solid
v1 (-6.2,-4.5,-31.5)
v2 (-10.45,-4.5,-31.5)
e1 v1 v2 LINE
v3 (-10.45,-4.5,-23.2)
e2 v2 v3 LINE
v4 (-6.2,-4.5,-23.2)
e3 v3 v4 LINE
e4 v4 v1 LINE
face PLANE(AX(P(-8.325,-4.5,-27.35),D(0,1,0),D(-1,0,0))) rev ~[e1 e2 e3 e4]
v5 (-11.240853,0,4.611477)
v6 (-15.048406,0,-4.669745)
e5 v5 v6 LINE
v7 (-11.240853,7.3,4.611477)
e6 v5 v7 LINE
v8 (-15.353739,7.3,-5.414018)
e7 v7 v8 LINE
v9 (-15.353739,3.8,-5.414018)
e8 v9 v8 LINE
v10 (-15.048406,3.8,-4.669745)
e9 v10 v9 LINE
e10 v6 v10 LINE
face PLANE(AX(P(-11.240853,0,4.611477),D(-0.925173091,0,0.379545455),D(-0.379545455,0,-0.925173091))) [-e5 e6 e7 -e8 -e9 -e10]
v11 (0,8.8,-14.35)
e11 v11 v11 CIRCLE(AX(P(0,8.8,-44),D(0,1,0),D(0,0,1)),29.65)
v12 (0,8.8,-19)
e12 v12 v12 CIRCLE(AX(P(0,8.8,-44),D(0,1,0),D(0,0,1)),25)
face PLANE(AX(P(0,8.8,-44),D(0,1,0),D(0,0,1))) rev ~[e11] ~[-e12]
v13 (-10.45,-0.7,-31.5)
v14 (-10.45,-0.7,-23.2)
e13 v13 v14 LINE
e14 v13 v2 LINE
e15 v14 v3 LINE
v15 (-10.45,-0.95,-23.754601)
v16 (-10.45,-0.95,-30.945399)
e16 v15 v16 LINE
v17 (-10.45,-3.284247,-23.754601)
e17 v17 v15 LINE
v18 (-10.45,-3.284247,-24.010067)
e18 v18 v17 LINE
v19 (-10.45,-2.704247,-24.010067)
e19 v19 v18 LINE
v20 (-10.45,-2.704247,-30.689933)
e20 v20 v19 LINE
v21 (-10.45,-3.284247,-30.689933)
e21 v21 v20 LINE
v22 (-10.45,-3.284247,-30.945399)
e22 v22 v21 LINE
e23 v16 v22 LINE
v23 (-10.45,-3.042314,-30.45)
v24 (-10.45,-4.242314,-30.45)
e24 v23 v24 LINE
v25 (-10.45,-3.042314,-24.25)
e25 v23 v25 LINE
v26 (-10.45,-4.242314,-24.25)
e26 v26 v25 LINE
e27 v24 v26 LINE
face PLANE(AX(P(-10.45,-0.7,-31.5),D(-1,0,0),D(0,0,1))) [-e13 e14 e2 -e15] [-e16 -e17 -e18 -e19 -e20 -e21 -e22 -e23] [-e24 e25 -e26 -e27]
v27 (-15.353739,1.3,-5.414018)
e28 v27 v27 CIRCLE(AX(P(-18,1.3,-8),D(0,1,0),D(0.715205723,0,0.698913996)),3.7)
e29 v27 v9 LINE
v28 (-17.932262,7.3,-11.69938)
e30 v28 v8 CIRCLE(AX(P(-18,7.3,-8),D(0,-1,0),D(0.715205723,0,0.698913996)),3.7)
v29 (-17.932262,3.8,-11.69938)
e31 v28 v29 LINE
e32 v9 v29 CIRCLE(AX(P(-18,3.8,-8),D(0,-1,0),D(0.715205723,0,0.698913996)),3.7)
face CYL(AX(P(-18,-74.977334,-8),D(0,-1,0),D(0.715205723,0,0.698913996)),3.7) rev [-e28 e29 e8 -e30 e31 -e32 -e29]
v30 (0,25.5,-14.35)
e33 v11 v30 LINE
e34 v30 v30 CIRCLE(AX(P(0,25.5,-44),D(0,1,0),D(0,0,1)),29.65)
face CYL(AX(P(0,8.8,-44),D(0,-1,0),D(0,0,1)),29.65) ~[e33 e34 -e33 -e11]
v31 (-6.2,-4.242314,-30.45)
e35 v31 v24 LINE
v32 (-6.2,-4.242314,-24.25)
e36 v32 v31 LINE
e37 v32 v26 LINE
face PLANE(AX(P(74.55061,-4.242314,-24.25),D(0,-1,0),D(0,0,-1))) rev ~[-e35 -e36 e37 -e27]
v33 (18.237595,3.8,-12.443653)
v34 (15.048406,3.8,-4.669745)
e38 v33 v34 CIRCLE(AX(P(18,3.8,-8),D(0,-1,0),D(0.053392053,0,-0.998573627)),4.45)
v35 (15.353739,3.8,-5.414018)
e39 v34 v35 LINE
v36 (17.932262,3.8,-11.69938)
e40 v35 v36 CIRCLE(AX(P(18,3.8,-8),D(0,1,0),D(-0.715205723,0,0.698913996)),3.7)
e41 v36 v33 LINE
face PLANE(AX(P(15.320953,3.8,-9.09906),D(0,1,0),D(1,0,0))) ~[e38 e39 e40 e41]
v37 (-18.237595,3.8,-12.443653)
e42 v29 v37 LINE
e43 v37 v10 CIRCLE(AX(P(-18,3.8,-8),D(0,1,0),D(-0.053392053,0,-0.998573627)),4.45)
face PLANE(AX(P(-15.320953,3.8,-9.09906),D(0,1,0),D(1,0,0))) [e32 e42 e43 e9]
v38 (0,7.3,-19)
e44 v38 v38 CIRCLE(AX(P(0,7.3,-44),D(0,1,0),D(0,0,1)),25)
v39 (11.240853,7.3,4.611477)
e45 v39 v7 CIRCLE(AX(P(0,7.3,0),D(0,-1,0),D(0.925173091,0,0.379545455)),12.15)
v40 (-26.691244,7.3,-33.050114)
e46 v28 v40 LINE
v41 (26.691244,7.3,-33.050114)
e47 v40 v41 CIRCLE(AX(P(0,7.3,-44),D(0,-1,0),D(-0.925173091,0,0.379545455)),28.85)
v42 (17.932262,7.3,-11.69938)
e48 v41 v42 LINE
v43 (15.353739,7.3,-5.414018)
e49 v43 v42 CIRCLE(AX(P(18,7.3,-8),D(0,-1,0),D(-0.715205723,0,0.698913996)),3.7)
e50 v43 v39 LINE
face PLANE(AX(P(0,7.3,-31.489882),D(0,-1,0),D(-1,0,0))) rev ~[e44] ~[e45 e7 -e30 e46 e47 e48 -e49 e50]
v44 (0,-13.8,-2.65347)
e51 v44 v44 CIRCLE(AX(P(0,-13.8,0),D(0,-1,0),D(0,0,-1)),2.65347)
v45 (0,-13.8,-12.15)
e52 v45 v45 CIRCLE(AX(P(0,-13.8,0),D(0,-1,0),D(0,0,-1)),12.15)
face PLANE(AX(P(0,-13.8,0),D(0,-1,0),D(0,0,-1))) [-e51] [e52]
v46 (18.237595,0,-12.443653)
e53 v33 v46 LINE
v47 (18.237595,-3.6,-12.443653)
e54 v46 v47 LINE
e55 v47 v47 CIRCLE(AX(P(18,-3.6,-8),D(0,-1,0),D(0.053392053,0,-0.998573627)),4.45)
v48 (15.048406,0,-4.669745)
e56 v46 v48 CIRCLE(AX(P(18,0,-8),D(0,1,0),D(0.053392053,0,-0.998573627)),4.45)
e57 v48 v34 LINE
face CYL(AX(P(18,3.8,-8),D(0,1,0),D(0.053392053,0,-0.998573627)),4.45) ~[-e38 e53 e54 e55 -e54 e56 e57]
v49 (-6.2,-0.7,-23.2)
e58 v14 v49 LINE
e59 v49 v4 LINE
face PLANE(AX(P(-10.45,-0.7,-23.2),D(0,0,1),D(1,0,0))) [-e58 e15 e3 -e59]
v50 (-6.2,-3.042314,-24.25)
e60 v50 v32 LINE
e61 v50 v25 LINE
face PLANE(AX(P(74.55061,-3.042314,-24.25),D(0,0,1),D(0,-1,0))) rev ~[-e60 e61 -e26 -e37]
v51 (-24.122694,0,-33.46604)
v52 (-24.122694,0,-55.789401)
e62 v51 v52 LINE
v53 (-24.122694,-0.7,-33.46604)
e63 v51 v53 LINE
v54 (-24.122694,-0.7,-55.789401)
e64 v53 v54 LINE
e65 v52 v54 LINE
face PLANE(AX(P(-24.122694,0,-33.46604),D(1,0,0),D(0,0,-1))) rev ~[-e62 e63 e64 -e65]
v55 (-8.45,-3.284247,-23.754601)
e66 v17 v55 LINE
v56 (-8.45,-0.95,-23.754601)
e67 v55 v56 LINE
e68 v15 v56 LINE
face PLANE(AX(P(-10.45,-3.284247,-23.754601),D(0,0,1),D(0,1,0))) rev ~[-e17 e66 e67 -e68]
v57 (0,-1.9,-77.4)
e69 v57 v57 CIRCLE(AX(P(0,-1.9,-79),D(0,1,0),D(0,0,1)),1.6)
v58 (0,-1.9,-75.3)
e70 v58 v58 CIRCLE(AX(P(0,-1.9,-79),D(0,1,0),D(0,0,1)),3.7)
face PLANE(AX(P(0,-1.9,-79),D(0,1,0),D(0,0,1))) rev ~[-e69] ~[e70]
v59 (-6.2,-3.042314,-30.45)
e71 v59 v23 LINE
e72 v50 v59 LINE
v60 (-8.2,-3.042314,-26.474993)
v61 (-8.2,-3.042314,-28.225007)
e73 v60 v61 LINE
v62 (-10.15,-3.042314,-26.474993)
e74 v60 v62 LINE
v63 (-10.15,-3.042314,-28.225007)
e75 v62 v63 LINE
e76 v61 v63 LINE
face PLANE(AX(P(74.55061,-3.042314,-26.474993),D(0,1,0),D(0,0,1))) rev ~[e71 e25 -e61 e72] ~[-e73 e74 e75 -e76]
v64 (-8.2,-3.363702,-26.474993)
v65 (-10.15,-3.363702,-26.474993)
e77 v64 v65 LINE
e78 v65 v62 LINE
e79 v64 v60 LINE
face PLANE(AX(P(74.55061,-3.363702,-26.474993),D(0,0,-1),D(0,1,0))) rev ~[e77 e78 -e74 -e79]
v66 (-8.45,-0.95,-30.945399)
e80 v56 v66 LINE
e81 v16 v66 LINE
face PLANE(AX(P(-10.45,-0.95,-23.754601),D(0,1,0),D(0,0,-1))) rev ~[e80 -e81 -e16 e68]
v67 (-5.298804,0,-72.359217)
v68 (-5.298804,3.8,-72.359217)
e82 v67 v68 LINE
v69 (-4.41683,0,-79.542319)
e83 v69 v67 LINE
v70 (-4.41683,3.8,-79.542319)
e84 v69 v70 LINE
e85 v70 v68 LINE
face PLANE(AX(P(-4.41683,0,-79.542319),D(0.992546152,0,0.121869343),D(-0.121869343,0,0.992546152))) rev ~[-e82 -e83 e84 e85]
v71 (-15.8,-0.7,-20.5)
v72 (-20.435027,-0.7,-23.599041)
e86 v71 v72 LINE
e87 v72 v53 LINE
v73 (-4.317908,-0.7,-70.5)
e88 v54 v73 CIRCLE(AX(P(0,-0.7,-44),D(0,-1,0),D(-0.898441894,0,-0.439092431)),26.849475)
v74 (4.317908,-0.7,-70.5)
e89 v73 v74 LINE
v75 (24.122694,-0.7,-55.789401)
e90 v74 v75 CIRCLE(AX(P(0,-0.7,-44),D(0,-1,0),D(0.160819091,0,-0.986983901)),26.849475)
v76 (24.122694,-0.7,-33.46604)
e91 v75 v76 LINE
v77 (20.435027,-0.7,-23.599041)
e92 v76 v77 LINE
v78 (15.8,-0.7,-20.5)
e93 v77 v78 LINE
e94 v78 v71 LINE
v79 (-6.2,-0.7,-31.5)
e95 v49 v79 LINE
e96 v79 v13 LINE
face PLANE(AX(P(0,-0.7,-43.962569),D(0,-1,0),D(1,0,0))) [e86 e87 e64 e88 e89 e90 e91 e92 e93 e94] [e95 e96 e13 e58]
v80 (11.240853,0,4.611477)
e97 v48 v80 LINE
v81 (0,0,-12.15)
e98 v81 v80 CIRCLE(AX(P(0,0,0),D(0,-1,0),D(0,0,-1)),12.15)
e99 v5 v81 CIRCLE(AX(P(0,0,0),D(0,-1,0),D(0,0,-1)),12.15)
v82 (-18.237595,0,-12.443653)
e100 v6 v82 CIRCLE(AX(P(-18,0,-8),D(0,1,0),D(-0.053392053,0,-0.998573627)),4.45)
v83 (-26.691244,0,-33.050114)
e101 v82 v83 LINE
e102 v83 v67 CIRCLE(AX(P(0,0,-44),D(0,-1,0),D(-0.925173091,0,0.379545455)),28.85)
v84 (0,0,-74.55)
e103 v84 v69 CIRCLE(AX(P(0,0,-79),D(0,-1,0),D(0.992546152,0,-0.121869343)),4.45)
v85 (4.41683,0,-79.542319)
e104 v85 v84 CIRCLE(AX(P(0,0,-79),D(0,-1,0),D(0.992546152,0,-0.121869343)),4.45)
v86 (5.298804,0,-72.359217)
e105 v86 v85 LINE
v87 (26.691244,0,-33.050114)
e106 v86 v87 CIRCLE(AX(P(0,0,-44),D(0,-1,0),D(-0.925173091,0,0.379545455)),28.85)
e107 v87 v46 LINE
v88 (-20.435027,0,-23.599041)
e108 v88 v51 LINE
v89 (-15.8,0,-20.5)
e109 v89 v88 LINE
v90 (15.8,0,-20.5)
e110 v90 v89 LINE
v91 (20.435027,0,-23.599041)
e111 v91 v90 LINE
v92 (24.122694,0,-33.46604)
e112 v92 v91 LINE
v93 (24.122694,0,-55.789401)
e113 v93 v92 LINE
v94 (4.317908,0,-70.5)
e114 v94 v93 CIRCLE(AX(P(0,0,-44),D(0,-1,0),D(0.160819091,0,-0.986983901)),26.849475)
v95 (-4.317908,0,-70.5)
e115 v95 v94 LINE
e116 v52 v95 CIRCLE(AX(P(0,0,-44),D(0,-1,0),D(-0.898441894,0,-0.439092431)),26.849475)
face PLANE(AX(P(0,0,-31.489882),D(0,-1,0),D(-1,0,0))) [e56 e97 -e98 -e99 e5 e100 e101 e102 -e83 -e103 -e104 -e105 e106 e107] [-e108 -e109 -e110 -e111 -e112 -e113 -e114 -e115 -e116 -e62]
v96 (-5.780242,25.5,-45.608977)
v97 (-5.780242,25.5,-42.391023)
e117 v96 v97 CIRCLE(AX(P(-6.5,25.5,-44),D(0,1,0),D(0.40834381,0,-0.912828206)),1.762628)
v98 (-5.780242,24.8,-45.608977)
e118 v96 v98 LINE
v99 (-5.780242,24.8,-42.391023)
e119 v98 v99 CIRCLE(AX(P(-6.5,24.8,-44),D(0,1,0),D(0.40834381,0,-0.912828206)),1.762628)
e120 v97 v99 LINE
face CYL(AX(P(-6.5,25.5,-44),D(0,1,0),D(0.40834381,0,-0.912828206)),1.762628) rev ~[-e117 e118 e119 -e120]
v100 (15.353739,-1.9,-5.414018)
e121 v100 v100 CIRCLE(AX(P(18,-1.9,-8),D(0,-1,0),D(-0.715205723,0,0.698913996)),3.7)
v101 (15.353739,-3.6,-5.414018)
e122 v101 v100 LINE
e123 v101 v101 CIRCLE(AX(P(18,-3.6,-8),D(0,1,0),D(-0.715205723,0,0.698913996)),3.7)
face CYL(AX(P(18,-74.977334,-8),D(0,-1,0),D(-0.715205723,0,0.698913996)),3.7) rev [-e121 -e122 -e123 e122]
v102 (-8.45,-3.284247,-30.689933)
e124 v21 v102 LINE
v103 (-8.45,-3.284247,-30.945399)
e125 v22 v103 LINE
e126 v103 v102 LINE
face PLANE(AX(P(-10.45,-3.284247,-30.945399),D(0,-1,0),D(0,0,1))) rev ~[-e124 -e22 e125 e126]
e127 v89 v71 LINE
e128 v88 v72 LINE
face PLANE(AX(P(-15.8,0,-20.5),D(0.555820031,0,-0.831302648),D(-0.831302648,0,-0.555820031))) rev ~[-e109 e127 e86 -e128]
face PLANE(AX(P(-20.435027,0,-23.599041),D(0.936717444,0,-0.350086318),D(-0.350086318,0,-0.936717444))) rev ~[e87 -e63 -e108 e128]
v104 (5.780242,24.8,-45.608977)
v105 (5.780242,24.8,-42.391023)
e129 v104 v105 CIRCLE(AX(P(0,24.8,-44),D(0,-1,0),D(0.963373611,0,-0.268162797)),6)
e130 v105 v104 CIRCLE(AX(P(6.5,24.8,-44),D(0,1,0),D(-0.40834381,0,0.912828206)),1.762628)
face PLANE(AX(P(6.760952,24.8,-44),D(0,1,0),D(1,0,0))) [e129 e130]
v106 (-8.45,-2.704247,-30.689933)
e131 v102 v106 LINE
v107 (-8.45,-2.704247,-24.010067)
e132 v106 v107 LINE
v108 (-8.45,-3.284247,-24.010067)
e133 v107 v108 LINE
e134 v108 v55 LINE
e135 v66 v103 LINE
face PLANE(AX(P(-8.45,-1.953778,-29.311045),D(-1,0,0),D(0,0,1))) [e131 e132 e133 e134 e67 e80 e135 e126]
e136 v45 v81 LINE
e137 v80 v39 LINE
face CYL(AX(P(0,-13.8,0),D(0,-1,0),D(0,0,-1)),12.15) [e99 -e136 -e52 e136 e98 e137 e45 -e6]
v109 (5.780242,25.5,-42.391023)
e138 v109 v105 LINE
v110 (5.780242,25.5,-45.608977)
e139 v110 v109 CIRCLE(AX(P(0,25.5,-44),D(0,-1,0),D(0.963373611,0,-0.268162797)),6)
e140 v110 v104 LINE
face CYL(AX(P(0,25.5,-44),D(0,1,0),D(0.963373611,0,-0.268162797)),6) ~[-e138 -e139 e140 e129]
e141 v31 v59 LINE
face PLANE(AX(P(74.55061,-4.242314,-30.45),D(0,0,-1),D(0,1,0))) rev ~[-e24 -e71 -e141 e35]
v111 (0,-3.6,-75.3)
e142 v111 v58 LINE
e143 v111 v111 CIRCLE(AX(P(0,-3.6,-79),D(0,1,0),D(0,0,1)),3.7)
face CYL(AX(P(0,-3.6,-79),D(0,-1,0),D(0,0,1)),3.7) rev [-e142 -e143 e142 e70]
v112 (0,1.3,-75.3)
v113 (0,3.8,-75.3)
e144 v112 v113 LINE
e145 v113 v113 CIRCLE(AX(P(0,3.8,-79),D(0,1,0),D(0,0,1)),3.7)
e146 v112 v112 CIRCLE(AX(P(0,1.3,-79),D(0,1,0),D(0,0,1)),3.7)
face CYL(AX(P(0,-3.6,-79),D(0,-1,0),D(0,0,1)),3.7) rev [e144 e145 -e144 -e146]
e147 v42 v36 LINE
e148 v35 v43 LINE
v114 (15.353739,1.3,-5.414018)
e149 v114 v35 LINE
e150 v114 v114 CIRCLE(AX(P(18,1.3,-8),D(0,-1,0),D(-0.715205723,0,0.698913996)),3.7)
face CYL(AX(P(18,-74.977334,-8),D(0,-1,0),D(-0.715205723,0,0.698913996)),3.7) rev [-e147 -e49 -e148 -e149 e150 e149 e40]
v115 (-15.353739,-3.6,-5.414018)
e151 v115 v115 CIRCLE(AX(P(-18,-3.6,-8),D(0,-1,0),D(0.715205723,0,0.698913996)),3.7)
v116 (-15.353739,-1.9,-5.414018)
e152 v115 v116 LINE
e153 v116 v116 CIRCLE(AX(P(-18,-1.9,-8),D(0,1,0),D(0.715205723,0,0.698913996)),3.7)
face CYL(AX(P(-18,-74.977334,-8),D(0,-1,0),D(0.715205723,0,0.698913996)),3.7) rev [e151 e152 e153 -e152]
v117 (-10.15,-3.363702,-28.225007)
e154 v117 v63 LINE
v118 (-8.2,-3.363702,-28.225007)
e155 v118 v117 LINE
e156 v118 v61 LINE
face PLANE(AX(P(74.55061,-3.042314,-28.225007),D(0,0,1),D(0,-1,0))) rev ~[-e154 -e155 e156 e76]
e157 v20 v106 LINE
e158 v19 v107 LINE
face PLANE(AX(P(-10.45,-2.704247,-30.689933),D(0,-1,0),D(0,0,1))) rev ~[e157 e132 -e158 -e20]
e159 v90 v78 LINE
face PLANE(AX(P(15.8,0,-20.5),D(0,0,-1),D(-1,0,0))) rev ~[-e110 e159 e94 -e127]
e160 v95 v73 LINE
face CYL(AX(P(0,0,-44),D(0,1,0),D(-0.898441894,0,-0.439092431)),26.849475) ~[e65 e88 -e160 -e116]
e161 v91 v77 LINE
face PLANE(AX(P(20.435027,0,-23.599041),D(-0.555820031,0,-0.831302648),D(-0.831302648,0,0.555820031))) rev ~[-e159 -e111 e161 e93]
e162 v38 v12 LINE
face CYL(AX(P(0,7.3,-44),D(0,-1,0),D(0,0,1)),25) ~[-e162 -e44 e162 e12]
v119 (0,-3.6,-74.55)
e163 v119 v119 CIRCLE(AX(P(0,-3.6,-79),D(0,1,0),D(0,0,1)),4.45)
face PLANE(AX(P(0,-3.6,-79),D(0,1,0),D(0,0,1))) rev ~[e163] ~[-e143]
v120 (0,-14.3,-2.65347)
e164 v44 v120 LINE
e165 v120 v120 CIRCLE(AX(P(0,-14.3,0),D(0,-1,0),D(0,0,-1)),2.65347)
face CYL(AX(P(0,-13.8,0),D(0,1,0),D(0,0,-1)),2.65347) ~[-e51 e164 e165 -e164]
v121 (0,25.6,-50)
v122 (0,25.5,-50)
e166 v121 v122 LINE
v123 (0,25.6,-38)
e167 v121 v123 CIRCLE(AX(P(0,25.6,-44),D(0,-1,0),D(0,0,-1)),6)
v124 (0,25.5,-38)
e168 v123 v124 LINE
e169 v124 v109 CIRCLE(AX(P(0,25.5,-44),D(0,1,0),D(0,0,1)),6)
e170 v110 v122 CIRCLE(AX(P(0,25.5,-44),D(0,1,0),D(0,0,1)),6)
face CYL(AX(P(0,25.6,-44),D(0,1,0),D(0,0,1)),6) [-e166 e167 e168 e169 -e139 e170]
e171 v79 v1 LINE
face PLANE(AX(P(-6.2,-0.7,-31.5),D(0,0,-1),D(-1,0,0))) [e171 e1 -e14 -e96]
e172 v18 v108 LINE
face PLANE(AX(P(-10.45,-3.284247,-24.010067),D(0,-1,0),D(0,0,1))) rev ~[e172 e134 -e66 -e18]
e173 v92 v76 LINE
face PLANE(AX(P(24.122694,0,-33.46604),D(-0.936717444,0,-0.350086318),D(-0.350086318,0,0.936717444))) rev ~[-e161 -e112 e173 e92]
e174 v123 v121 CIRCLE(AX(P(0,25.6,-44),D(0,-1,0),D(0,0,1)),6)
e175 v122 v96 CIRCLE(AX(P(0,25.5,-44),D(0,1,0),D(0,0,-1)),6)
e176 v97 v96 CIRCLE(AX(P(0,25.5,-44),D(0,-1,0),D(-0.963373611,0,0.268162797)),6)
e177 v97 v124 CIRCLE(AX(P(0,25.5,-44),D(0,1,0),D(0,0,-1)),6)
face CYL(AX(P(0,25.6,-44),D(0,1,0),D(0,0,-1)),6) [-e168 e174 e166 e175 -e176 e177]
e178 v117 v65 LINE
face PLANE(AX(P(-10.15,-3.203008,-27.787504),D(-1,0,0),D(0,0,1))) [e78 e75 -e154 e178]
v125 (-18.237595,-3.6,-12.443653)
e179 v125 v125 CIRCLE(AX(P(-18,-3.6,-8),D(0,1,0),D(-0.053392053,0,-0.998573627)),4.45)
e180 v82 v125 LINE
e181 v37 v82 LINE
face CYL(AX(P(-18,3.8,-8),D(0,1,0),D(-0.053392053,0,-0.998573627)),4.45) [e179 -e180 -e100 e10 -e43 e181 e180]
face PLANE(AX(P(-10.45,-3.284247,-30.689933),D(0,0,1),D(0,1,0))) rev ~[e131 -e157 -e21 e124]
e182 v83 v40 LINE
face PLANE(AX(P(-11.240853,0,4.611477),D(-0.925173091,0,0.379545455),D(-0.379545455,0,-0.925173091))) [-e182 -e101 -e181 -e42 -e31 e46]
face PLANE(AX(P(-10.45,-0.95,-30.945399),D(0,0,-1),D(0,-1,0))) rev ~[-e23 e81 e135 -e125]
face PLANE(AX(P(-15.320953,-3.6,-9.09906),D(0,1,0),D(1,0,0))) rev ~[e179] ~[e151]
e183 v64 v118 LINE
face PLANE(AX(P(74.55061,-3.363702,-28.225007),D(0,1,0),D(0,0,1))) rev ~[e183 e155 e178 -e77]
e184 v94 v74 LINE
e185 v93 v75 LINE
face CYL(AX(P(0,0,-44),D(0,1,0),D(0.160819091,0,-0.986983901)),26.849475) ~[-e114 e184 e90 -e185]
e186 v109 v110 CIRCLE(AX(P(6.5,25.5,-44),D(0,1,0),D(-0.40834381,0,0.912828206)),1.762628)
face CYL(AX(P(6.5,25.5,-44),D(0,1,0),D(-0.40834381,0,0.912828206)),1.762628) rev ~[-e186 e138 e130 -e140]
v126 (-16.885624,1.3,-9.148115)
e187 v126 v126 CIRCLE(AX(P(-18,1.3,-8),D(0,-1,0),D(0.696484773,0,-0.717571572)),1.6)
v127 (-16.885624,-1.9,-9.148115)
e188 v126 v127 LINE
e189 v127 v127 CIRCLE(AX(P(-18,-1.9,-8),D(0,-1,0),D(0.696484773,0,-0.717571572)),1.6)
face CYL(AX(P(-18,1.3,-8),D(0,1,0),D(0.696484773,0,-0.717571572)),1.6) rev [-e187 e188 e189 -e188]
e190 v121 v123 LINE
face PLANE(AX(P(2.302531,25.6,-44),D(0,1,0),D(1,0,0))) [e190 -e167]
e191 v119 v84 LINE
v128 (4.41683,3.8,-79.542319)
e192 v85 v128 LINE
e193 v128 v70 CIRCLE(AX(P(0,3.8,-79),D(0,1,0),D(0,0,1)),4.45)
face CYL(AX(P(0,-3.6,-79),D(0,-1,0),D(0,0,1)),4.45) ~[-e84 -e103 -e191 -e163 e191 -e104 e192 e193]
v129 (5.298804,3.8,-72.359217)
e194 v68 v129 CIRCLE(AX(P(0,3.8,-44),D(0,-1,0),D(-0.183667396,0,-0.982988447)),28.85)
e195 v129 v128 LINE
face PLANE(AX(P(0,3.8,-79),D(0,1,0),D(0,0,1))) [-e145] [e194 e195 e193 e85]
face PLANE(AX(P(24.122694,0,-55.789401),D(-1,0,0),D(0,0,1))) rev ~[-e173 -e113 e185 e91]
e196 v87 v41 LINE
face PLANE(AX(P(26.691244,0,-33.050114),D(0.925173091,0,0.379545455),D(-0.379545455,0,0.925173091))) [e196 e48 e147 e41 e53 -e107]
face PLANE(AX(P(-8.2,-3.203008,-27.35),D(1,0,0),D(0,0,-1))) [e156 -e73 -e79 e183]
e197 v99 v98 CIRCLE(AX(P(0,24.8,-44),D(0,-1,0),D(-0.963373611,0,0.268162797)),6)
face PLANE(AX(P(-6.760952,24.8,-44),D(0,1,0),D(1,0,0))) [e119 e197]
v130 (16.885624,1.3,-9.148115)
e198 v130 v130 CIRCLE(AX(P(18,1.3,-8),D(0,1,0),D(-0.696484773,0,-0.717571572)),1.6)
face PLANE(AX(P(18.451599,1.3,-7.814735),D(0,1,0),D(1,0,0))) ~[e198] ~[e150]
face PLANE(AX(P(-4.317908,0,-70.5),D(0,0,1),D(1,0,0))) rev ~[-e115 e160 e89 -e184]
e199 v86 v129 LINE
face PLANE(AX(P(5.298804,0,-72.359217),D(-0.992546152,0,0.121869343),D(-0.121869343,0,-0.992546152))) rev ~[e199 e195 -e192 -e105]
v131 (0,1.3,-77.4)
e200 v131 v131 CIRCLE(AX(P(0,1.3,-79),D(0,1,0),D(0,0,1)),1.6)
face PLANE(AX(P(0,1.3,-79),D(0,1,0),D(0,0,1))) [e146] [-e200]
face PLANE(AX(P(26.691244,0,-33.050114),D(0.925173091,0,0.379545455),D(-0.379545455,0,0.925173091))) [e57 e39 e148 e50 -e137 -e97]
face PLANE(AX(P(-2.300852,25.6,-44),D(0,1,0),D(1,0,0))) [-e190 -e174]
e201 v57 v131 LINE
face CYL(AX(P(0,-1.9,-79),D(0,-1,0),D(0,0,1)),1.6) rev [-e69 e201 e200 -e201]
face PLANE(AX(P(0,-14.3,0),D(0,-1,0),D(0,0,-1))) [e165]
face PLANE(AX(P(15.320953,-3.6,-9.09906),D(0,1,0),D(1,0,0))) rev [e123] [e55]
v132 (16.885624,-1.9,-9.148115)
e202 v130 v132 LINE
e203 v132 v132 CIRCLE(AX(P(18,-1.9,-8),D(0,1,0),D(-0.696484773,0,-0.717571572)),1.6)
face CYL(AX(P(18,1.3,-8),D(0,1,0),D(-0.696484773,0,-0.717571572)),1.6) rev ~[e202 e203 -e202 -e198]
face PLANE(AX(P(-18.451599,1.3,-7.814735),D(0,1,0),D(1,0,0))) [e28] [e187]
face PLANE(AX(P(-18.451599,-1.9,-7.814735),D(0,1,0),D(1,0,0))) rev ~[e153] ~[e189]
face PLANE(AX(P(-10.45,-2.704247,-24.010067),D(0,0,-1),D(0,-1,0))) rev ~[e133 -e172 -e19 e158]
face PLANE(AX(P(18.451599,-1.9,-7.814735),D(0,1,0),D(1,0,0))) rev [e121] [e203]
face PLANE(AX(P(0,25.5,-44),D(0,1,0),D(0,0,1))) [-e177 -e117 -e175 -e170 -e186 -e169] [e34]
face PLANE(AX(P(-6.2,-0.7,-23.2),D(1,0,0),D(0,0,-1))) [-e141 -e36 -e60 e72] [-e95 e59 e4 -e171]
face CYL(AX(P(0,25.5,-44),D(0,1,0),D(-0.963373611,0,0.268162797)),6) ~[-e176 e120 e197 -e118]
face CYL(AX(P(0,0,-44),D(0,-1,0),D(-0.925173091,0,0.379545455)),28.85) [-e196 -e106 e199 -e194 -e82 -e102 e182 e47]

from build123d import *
from build123d.topology import SkipClean

# Parameters (mm, degrees)
EXTRUDE_1_DEPTH          = 7.3
EXTRUDE_START            = 13.8
SKETCH_3_R               = 12.150000000000004
EXTRUDE_2_DEPTH          = 13.8
SKETCH_4_R               = 2.6534701442365307
EXTRUDE_3_DEPTH          = 0.5
CUT_EXTRUDE_4_DEPTH      = 82.27733386375319
CUT_EXTRUDE_4_DEPTH_BACK = 82.27733386375319
EXTRUDE_START_2          = -3.5
EXTRUDE_4_DEPTH          = 7.4
EXTRUDE_START_3          = -6
EXTRUDE_5_DEPTH          = 3.2
EXTRUDE_6_DEPTH          = 0.7
EXTRUDE_7_DEPTH          = 3.8
CUT_EXTRUDE_5_DEPTH      = 85.0006101168319
CUT_EXTRUDE_5_DEPTH_BACK = 85.0006101168319
SKETCH_9_W               = 1.7500148859388673
SKETCH_9_H               = 0.32138781379330306
CUT_EXTRUDE_6_DEPTH      = 2
CUT_EXTRUDE_7_DEPTH      = 2
SKETCH_10_3_W            = 0.8750074429694372
SKETCH_10_3_H            = 0.32138781379330306
CUT_EXTRUDE_8_DEPTH      = 0.3
EXTRUDE_START_4          = -7.3
EXTRUDE_8_DEPTH          = 3.8
EXTRUDE_START_5          = -10.9
SKETCH_11_3_R            = 4.449999999999995
SKETCH_11_3_R_2          = 3.6999999999999944
EXTRUDE_9_DEPTH          = 7.4
EXTRUDE_START_6          = -9.2
SKETCH_11_4_R            = 3.6999999999999944
SKETCH_11_4_R_2          = 1.6000000000000087
EXTRUDE_10_DEPTH         = 3.2
SKETCH_12_R              = 25
EXTRUDE_11_DEPTH         = 1.5
SKETCH_13_R              = 29.65
SKETCH_13_R_2            = 25
EXTRUDE_12_DEPTH         = 16.7
CUT_EXTRUDE_9_DEPTH      = 0.7
EXTRUDE_START_7          = 0.1
EXTRUDE_13_DEPTH         = 0.1


with BuildPart() as part:
    # 草图2 → 凸台-拉伸1 (new body)
    with BuildSketch(Plane(origin=(0, 0, 0), x_dir=(1, 0, 0), z_dir=(0, 1, 0))):
        with BuildLine():
            Line((26.69124366947802, 33.05011363636363), (11.240853053177052, -4.611477272727274))
            ThreePointArc((11.240853053177052, -4.611477272727274), (-1.95e-15, -12.15), (-11.240853053177052, -4.6114772727272735))
            Line((-11.240853053177052, -4.6114772727272735), (-26.691243669478016, 33.05011363636363))
            ThreePointArc((-26.691243669478016, 33.05011363636363), (1.77e-15, 72.85), (26.69124366947802, 33.05011363636363))
        make_face()
    extrude(amount=EXTRUDE_1_DEPTH)

    # 草图3 → 凸台-拉伸2 (add)
    with BuildSketch(Plane.XZ.offset(EXTRUDE_START)):
        with Locations(Location((0, 0, 0), (0, 0, 270))):
            Circle(SKETCH_3_R)
    extrude(amount=-EXTRUDE_2_DEPTH)

    # 草图4 → 凸台-拉伸3 (add)
    with BuildSketch(Plane.XZ.offset(13.8)):
        with Locations(Location((0, 0, 0), (0, 0, 270))):
            Circle(SKETCH_4_R)
    extrude(amount=EXTRUDE_3_DEPTH)

    # 草图5 → 切除-拉伸4 (cut, two sides: drawn at the far end of the back side and taken through both)
    with BuildSketch(Plane(origin=(0, 7.3, 0), x_dir=(1, 0, 0), z_dir=(0, 1, 0)).offset(-CUT_EXTRUDE_4_DEPTH_BACK)):
        with BuildLine():
            Line((-16.400376678382514, 7.965283592675334), (-16.885624362824803, 9.148114514876607))
            ThreePointArc((-16.885624362824796, 9.148114514876617), (-19.48027694527436, 7.39272727272731), (-16.400376678382536, 7.965283592675336))
        make_face()
        with BuildLine():
            ThreePointArc((-16.399999999999995, 8), (-16.526398795555536, 8.623297272783896), (-16.885624362824796, 9.148114514876617))
            Line((-16.885624362824803, 9.148114514876607), (-16.400376678382514, 7.965283592675334))
            ThreePointArc((-16.400376678382536, 7.965283592675336), (-16.400094172367016, 7.982640774613078), (-16.399999999999995, 8))
        make_face()
        with BuildLine():
            Line((-16.885624362824803, 9.148114514876607), (-17.932262216036403, 11.69937989298532))
            ThreePointArc((-17.932262216036474, 11.69937989298527), (-21.423140435946916, 6.595681818181813), (-15.353738825171025, 5.4140182145667))
            Line((-15.353738825170945, 5.414018214566699), (-16.400376678382514, 7.965283592675334))
            ThreePointArc((-16.400376678382536, 7.965283592675336), (-19.48027694527436, 7.39272727272731), (-16.885624362824796, 9.148114514876617))
        make_face()
        with BuildLine():
            ThreePointArc((-14.299999999999995, 8), (-15.359864605681645, 10.59223554093132), (-17.932262216036474, 11.69937989298527))
            Line((-17.932262216036403, 11.69937989298532), (-16.885624362824803, 9.148114514876607))
            ThreePointArc((-16.885624362824796, 9.148114514876617), (-16.526398795555536, 8.623297272783896), (-16.399999999999995, 8))
            ThreePointArc((-16.399999999999995, 8), (-16.400094172367016, 7.982640774613078), (-16.400376678382536, 7.965283592675336))
            Line((-16.400376678382514, 7.965283592675334), (-15.353738825170945, 5.414018214566699))
            ThreePointArc((-15.353738825171025, 5.4140182145667), (-14.573546560445681, 6.6037848208222325), (-14.299999999999995, 7.999999999999999))
        make_face()
        with BuildLine():
            Line((16.40037667838252, 7.965283592675348), (16.885624362824785, 9.148114514876559))
            ThreePointArc((16.885624362824753, 9.148114514876577), (16.519723054725624, 8.607272727272665), (16.400376678382536, 7.965283592675339))
        make_face()
        with BuildLine():
            ThreePointArc((19.599999999999998, 8), (18.623297272783866, 9.473601204444472), (16.885624362824753, 9.148114514876577))
            Line((16.885624362824785, 9.148114514876559), (16.40037667838252, 7.965283592675348))
            ThreePointArc((16.400376678382536, 7.965283592675339), (18.017359225386915, 6.4000941723670195), (19.599999999999998, 8))
        make_face()
        with BuildLine():
            Line((16.885624362824785, 9.148114514876559), (17.932262216036392, 11.699379892985295))
            ThreePointArc((17.93226221603642, 11.69937989298527), (14.576859564053107, 9.40431818181826), (15.353738825170879, 5.414018214566849))
            Line((15.353738825171005, 5.414018214566843), (16.40037667838252, 7.965283592675348))
            ThreePointArc((16.400376678382536, 7.965283592675339), (16.519723054725624, 8.607272727272665), (16.885624362824753, 9.148114514876577))
        make_face()
        with BuildLine():
            ThreePointArc((21.699999999999996, 8), (20.592235540931295, 10.64013539431837), (17.93226221603642, 11.69937989298527))
            Line((17.932262216036392, 11.699379892985295), (16.885624362824785, 9.148114514876559))
            ThreePointArc((16.885624362824753, 9.148114514876577), (18.623297272783866, 9.473601204444472), (19.599999999999998, 8))
            ThreePointArc((19.599999999999998, 8), (18.017359225386915, 6.4000941723670195), (16.400376678382536, 7.965283592675339))
            Line((16.40037667838252, 7.965283592675348), (15.353738825171005, 5.414018214566843))
            ThreePointArc((15.353738825170879, 5.414018214566849), (19.39621517917767, 4.573546560445646), (21.699999999999996, 7.999999999999999))
        make_face()
    extrude(amount=CUT_EXTRUDE_4_DEPTH + CUT_EXTRUDE_4_DEPTH_BACK, mode=Mode.SUBTRACT)

    # 草图5<6> → 凸台-拉伸4 (add)
    with BuildSketch(Plane(origin=(0, 7.3, 0), x_dir=(1, 0, 0), z_dir=(0, 1, 0)).offset(EXTRUDE_START_2)):
        with BuildLine():
            ThreePointArc((-13.549999999999997, 8), (-14.938529448781747, 11.229535270595974), (-18.237594635516142, 12.443652640472019))
            Line((-18.237594635516302, 12.443652640471882), (-17.932262216036403, 11.69937989298532))
            ThreePointArc((-17.932262216036474, 11.69937989298527), (-15.359864605681645, 10.59223554093132), (-14.299999999999995, 8))
            ThreePointArc((-14.299999999999995, 7.999999999999999), (-14.573546560445681, 6.6037848208222325), (-15.353738825171025, 5.4140182145667))
            Line((-15.353738825170945, 5.414018214566699), (-15.048406405691011, 4.669745467080052))
            ThreePointArc((-15.04840640569094, 4.6697454670800695), (-13.94185439549815, 6.174088103806117), (-13.549999999999997, 7.999999999999999))
        make_face()
        with BuildLine():
            Line((-17.932262216036403, 11.69937989298532), (-18.237594635516302, 12.443652640471882))
            ThreePointArc((-18.237594635516142, 12.443652640472019), (-22.11702025404429, 6.311022727272792), (-15.048406405690944, 4.669745467080068))
            Line((-15.048406405691011, 4.669745467080052), (-15.353738825170945, 5.414018214566699))
            ThreePointArc((-15.353738825171025, 5.4140182145667), (-21.423140435946916, 6.595681818181813), (-17.932262216036474, 11.69937989298527))
        make_face()
    extrude_4 = extrude(amount=-EXTRUDE_4_DEPTH)

    # 草图5<7> → 凸台-拉伸5 (add)
    with BuildSketch(Plane(origin=(0, 7.3, 0), x_dir=(1, 0, 0), z_dir=(0, 1, 0)).offset(EXTRUDE_START_3)):
        with BuildLine():
            Line((-16.885624362824803, 9.148114514876607), (-17.932262216036403, 11.69937989298532))
            ThreePointArc((-17.932262216036474, 11.69937989298527), (-21.423140435946916, 6.595681818181813), (-15.353738825171025, 5.4140182145667))
            Line((-15.353738825170945, 5.414018214566699), (-16.400376678382514, 7.965283592675334))
            ThreePointArc((-16.400376678382536, 7.965283592675336), (-19.48027694527436, 7.39272727272731), (-16.885624362824796, 9.148114514876617))
        make_face()
        with BuildLine():
            ThreePointArc((-14.299999999999995, 8), (-15.359864605681645, 10.59223554093132), (-17.932262216036474, 11.69937989298527))
            Line((-17.932262216036403, 11.69937989298532), (-16.885624362824803, 9.148114514876607))
            ThreePointArc((-16.885624362824796, 9.148114514876617), (-16.526398795555536, 8.623297272783896), (-16.399999999999995, 8))
            ThreePointArc((-16.399999999999995, 8), (-16.400094172367016, 7.982640774613078), (-16.400376678382536, 7.965283592675336))
            Line((-16.400376678382514, 7.965283592675334), (-15.353738825170945, 5.414018214566699))
            ThreePointArc((-15.353738825171025, 5.4140182145667), (-14.573546560445681, 6.6037848208222325), (-14.299999999999995, 7.999999999999999))
        make_face()
    extrude_5 = extrude(amount=-EXTRUDE_5_DEPTH)

    # 镜向1: 凸台-拉伸4, 凸台-拉伸5 across plane
    add(extrude_4.mirror(Plane(origin=(0, 0, 0), x_dir=(0, 0, 1), z_dir=(1, 0, 0))))
    add(extrude_5.mirror(Plane(origin=(0, 0, 0), x_dir=(0, 0, 1), z_dir=(1, 0, 0))))

    # 草图6 → 凸台-拉伸6 (add)
    with BuildSketch(Plane.XZ):
        with BuildLine():
            Line((15.8, -20.499999999999996), (-15.8, -20.499999999999996))
            Line((-15.8, -20.499999999999996), (-20.43502728201668, -23.59904101897809))
            Line((-20.43502728201668, -23.59904101897809), (-24.122693566408294, -33.46603999613399))
            Line((-24.122693566408294, -33.46603999613399), (-24.122693566408294, -55.78940145331961))
            ThreePointArc((-24.122693566408294, -55.78940145331961), (-16.009915212385508, -65.55404710068618), (-4.3179082350567475, -70.5))
            Line((-4.3179082350567475, -70.5), (4.3179082350567475, -70.5))
            ThreePointArc((4.3179082350567475, -70.5), (16.00991521238551, -65.55404710068616), (24.122693566408294, -55.78940145331961))
            Line((24.122693566408294, -55.78940145331961), (24.122693566408294, -33.46603999613399))
            Line((24.122693566408294, -33.46603999613399), (20.43502728201668, -23.59904101897809))
            Line((20.43502728201668, -23.59904101897809), (15.8, -20.499999999999996))
        make_face()
    extrude(amount=EXTRUDE_6_DEPTH)

    # 草图7 → 凸台-拉伸7 (add)
    with BuildSketch(Plane.XZ.offset(0.7)):
        Polygon((-10.45, -23.199999999999992), (-6.199999999999999, -23.199999999999992), (-6.199999999999998, -31.499999999999993), (-10.449999999999998, -31.499999999999986), align=None)
    extrude(amount=EXTRUDE_7_DEPTH)

    # 草图8 → 切除-拉伸5 (cut, two sides: drawn at the far end of the back side and taken through both)
    with BuildSketch(Plane.ZY.offset(10.450000000000005).offset(-CUT_EXTRUDE_5_DEPTH_BACK)):
        Polygon((-30.449999999999985, -4.242314172372454), (-30.449999999999985, -3.042314172372454), (-28.22500744296942, -3.042314172372454), (-28.22500744296942, -3.363701986165757), (-26.47499255703055, -3.363701986165757), (-26.47499255703055, -3.042314172372454), (-24.249999999999986, -3.042314172372454), (-24.249999999999986, -4.242314172372454), align=None)
    extrude(amount=CUT_EXTRUDE_5_DEPTH + CUT_EXTRUDE_5_DEPTH_BACK, mode=Mode.SUBTRACT)

    # 草图9 → 切除-拉伸6 (cut)
    with BuildSketch(Plane(origin=(-6.200000000000002, 0, -6.5e-16), x_dir=(1e-16, 0, -1), z_dir=(1, 0, 1e-16))):
        with Locations((27.34999999999999, -3.2030080792691056)):
            Rectangle(SKETCH_9_W, SKETCH_9_H)
    extrude(amount=-CUT_EXTRUDE_6_DEPTH, mode=Mode.SUBTRACT)

    # 草图10 → 切除-拉伸7 (cut)
    with BuildSketch(Plane.ZY.offset(10.450000000000005)):
        Polygon((-30.68993252300798, -2.704247110124904), (-27.349999999999987, -2.704247110124904), (-27.349999999999987, -0.9500000000000002), (-30.945398751764372, -0.9500000000000002), (-30.945398751764372, -3.284247110124904), (-30.68993252300798, -3.284247110124904), align=None)
        Polygon((-27.349999999999987, -0.9500000000000002), (-27.349999999999987, -2.7042471101249044), (-24.010067476991992, -2.704247110124904), (-24.010067476991992, -3.284247110124904), (-23.7546012482356, -3.284247110124904), (-23.7546012482356, -0.9500000000000002), align=None)
    extrude(amount=-CUT_EXTRUDE_7_DEPTH, mode=Mode.SUBTRACT)

    # 草图10<3> → 切除-拉伸8 (cut)
    with BuildSketch(Plane.ZY.offset(10.450000000000005)):
        with Locations((-27.787503721484704, -3.2030080792691056)):
            Rectangle(SKETCH_10_3_W, SKETCH_10_3_H)
        with Locations((-26.91249627851527, -3.2030080792691056)):
            Rectangle(SKETCH_10_3_W, SKETCH_10_3_H)
    extrude(amount=-CUT_EXTRUDE_8_DEPTH, mode=Mode.SUBTRACT)

    # 草图11 → 凸台-拉伸8 (add)
    with BuildSketch(Plane(origin=(0, 7.3, 0), x_dir=(1, 0, 0), z_dir=(0, 1, 0)).offset(EXTRUDE_START_4)):
        with BuildLine():
            Line((5.298804384271591, 72.35921670457815), (4.4168303748038795, 79.54231857815292))
            ThreePointArc((4.416830374803872, 79.54231857815292), (4.441699852977298, 79.27166600093011), (4.44999999999999, 79))
            ThreePointArc((4.44999999999999, 79), (-0.27166600093012466, 74.55830014702269), (-4.416830374803881, 79.54231857815292))
            Line((-4.4168303748038795, 79.54231857815292), (-5.298804384271591, 72.35921670457815))
            ThreePointArc((-5.29880438427159, 72.35921670457816), (4.44e-15, 72.85000000000001), (5.298804384271589, 72.35921670457816))
        make_face()
    extrude(amount=EXTRUDE_8_DEPTH)

    # 草图11<3> → 凸台-拉伸9 (add)
    with BuildSketch(Plane(origin=(0, 7.3, 0), x_dir=(1, 0, 0), z_dir=(0, 1, 0)).offset(EXTRUDE_START_5)):
        with Locations(Location((-4.28e-15, 79, 0), (0, 0, 270))):
            Circle(SKETCH_11_3_R)
        with Locations(Location((-4.28e-15, 79, 0), (0, 0, 270))):
            Circle(SKETCH_11_3_R_2, mode=Mode.SUBTRACT)
    extrude(amount=EXTRUDE_9_DEPTH)

    # 草图11<4> → 凸台-拉伸10 (add)
    with BuildSketch(Plane(origin=(0, 7.3, 0), x_dir=(1, 0, 0), z_dir=(0, 1, 0)).offset(EXTRUDE_START_6)):
        with Locations(Location((-4.28e-15, 79, 0), (0, 0, 270))):
            Circle(SKETCH_11_4_R)
        with Locations(Location((-4.28e-15, 79, 0), (0, 0, 270))):
            Circle(SKETCH_11_4_R_2, mode=Mode.SUBTRACT)
    extrude(amount=EXTRUDE_10_DEPTH)

    # 草图12 → 凸台-拉伸11 (add)
    with BuildSketch(Plane(origin=(0, 7.3, 0), x_dir=(1, 0, 0), z_dir=(0, 1, 0))):
        with Locations(Location((0, 44, 0), (0, 0, 270))):
            Circle(SKETCH_12_R)
    extrude(amount=EXTRUDE_11_DEPTH)

    # 草图13 → 凸台-拉伸12 (add)
    # profile 1 of 2: a face of its own
    with BuildSketch(Plane(origin=(0, 8.8, 0), x_dir=(1, 0, 0), z_dir=(0, 1, 0))):
        with Locations(Location((0, 44, 0), (0, 0, 270))):
            Circle(SKETCH_13_R)
        with Locations(Location((0, 44, 0), (0, 0, 270))):
            Circle(SKETCH_13_R_2, mode=Mode.SUBTRACT)
    # profile 2 of 2: a face of its own
    with BuildSketch(Plane(origin=(0, 8.8, 0), x_dir=(1, 0, 0), z_dir=(0, 1, 0))):
        with Locations(Location((0, 44, 0), (0, 0, 270))):
            Circle(SKETCH_13_R_2)
    extrude(amount=EXTRUDE_12_DEPTH)

    # 草图14 → 切除-拉伸9 (cut)
    with BuildSketch(Plane(origin=(0, 25.500000000000004, 0), x_dir=(1, 0, 0), z_dir=(0, 1, 0))):
        with BuildLine():
            ThreePointArc((-5.780241666392653, 42.39102322014944), (-5.999999999999999, 44.00000000000001), (-5.78024166639265, 45.60897677985057))
            ThreePointArc((-5.780241666392652, 45.60897677985057), (-8.262628246935671, 44.00000000000001), (-5.780241666392653, 42.39102322014944))
        make_face()
        with BuildLine():
            ThreePointArc((5.7802416663926515, 45.608976779850565), (5.944806556918227, 44.81195751170984), (5.999999999999999, 44))
            ThreePointArc((5.999999999999999, 44), (5.944806556918228, 43.18804248829016), (5.780241666392651, 42.391023220149435))
            ThreePointArc((5.780241666392653, 42.391023220149435), (8.262628246935671, 44), (5.780241666392652, 45.608976779850565))
        make_face()
    extrude(amount=-CUT_EXTRUDE_9_DEPTH, mode=Mode.SUBTRACT)

    # 草图14<3> → 凸台-拉伸13 (add)
    with SkipClean():  # the faces are left unmerged after this step: merging them gives an invalid solid
        with BuildSketch(Plane(origin=(0, 25.500000000000004, 0), x_dir=(1, 0, 0), z_dir=(0, 1, 0)).offset(EXTRUDE_START_7)):
            with BuildLine():
                ThreePointArc((5.7802416663926515, 45.608976779850565), (3.6294723666737094, 48.77775369180454), (-8.49e-14, 50))
                Line((0, 50), (0, 38))
                ThreePointArc((-8.637e-14, 38), (3.6294723666737054, 39.22224630819545), (5.780241666392651, 42.391023220149435))
                ThreePointArc((5.780241666392651, 42.391023220149435), (5.944806556918228, 43.18804248829016), (5.999999999999999, 44))
                ThreePointArc((5.999999999999999, 44), (5.944806556918227, 44.81195751170984), (5.7802416663926515, 45.608976779850565))
            make_face()
            with BuildLine():
                Line((0, 38), (0, 50))
                ThreePointArc((-8.357e-14, 50), (-3.6294723666737743, 48.77775369180449), (-5.78024166639265, 45.60897677985057))
                ThreePointArc((-5.78024166639265, 45.60897677985057), (-5.999999999999999, 44.00000000000001), (-5.780241666392653, 42.39102322014944))
                ThreePointArc((-5.780241666392653, 42.39102322014944), (-3.6294723666737796, 39.22224630819551), (-8.637e-14, 38))
            make_face()
        extrude(amount=-EXTRUDE_13_DEPTH)


solid = part.part
